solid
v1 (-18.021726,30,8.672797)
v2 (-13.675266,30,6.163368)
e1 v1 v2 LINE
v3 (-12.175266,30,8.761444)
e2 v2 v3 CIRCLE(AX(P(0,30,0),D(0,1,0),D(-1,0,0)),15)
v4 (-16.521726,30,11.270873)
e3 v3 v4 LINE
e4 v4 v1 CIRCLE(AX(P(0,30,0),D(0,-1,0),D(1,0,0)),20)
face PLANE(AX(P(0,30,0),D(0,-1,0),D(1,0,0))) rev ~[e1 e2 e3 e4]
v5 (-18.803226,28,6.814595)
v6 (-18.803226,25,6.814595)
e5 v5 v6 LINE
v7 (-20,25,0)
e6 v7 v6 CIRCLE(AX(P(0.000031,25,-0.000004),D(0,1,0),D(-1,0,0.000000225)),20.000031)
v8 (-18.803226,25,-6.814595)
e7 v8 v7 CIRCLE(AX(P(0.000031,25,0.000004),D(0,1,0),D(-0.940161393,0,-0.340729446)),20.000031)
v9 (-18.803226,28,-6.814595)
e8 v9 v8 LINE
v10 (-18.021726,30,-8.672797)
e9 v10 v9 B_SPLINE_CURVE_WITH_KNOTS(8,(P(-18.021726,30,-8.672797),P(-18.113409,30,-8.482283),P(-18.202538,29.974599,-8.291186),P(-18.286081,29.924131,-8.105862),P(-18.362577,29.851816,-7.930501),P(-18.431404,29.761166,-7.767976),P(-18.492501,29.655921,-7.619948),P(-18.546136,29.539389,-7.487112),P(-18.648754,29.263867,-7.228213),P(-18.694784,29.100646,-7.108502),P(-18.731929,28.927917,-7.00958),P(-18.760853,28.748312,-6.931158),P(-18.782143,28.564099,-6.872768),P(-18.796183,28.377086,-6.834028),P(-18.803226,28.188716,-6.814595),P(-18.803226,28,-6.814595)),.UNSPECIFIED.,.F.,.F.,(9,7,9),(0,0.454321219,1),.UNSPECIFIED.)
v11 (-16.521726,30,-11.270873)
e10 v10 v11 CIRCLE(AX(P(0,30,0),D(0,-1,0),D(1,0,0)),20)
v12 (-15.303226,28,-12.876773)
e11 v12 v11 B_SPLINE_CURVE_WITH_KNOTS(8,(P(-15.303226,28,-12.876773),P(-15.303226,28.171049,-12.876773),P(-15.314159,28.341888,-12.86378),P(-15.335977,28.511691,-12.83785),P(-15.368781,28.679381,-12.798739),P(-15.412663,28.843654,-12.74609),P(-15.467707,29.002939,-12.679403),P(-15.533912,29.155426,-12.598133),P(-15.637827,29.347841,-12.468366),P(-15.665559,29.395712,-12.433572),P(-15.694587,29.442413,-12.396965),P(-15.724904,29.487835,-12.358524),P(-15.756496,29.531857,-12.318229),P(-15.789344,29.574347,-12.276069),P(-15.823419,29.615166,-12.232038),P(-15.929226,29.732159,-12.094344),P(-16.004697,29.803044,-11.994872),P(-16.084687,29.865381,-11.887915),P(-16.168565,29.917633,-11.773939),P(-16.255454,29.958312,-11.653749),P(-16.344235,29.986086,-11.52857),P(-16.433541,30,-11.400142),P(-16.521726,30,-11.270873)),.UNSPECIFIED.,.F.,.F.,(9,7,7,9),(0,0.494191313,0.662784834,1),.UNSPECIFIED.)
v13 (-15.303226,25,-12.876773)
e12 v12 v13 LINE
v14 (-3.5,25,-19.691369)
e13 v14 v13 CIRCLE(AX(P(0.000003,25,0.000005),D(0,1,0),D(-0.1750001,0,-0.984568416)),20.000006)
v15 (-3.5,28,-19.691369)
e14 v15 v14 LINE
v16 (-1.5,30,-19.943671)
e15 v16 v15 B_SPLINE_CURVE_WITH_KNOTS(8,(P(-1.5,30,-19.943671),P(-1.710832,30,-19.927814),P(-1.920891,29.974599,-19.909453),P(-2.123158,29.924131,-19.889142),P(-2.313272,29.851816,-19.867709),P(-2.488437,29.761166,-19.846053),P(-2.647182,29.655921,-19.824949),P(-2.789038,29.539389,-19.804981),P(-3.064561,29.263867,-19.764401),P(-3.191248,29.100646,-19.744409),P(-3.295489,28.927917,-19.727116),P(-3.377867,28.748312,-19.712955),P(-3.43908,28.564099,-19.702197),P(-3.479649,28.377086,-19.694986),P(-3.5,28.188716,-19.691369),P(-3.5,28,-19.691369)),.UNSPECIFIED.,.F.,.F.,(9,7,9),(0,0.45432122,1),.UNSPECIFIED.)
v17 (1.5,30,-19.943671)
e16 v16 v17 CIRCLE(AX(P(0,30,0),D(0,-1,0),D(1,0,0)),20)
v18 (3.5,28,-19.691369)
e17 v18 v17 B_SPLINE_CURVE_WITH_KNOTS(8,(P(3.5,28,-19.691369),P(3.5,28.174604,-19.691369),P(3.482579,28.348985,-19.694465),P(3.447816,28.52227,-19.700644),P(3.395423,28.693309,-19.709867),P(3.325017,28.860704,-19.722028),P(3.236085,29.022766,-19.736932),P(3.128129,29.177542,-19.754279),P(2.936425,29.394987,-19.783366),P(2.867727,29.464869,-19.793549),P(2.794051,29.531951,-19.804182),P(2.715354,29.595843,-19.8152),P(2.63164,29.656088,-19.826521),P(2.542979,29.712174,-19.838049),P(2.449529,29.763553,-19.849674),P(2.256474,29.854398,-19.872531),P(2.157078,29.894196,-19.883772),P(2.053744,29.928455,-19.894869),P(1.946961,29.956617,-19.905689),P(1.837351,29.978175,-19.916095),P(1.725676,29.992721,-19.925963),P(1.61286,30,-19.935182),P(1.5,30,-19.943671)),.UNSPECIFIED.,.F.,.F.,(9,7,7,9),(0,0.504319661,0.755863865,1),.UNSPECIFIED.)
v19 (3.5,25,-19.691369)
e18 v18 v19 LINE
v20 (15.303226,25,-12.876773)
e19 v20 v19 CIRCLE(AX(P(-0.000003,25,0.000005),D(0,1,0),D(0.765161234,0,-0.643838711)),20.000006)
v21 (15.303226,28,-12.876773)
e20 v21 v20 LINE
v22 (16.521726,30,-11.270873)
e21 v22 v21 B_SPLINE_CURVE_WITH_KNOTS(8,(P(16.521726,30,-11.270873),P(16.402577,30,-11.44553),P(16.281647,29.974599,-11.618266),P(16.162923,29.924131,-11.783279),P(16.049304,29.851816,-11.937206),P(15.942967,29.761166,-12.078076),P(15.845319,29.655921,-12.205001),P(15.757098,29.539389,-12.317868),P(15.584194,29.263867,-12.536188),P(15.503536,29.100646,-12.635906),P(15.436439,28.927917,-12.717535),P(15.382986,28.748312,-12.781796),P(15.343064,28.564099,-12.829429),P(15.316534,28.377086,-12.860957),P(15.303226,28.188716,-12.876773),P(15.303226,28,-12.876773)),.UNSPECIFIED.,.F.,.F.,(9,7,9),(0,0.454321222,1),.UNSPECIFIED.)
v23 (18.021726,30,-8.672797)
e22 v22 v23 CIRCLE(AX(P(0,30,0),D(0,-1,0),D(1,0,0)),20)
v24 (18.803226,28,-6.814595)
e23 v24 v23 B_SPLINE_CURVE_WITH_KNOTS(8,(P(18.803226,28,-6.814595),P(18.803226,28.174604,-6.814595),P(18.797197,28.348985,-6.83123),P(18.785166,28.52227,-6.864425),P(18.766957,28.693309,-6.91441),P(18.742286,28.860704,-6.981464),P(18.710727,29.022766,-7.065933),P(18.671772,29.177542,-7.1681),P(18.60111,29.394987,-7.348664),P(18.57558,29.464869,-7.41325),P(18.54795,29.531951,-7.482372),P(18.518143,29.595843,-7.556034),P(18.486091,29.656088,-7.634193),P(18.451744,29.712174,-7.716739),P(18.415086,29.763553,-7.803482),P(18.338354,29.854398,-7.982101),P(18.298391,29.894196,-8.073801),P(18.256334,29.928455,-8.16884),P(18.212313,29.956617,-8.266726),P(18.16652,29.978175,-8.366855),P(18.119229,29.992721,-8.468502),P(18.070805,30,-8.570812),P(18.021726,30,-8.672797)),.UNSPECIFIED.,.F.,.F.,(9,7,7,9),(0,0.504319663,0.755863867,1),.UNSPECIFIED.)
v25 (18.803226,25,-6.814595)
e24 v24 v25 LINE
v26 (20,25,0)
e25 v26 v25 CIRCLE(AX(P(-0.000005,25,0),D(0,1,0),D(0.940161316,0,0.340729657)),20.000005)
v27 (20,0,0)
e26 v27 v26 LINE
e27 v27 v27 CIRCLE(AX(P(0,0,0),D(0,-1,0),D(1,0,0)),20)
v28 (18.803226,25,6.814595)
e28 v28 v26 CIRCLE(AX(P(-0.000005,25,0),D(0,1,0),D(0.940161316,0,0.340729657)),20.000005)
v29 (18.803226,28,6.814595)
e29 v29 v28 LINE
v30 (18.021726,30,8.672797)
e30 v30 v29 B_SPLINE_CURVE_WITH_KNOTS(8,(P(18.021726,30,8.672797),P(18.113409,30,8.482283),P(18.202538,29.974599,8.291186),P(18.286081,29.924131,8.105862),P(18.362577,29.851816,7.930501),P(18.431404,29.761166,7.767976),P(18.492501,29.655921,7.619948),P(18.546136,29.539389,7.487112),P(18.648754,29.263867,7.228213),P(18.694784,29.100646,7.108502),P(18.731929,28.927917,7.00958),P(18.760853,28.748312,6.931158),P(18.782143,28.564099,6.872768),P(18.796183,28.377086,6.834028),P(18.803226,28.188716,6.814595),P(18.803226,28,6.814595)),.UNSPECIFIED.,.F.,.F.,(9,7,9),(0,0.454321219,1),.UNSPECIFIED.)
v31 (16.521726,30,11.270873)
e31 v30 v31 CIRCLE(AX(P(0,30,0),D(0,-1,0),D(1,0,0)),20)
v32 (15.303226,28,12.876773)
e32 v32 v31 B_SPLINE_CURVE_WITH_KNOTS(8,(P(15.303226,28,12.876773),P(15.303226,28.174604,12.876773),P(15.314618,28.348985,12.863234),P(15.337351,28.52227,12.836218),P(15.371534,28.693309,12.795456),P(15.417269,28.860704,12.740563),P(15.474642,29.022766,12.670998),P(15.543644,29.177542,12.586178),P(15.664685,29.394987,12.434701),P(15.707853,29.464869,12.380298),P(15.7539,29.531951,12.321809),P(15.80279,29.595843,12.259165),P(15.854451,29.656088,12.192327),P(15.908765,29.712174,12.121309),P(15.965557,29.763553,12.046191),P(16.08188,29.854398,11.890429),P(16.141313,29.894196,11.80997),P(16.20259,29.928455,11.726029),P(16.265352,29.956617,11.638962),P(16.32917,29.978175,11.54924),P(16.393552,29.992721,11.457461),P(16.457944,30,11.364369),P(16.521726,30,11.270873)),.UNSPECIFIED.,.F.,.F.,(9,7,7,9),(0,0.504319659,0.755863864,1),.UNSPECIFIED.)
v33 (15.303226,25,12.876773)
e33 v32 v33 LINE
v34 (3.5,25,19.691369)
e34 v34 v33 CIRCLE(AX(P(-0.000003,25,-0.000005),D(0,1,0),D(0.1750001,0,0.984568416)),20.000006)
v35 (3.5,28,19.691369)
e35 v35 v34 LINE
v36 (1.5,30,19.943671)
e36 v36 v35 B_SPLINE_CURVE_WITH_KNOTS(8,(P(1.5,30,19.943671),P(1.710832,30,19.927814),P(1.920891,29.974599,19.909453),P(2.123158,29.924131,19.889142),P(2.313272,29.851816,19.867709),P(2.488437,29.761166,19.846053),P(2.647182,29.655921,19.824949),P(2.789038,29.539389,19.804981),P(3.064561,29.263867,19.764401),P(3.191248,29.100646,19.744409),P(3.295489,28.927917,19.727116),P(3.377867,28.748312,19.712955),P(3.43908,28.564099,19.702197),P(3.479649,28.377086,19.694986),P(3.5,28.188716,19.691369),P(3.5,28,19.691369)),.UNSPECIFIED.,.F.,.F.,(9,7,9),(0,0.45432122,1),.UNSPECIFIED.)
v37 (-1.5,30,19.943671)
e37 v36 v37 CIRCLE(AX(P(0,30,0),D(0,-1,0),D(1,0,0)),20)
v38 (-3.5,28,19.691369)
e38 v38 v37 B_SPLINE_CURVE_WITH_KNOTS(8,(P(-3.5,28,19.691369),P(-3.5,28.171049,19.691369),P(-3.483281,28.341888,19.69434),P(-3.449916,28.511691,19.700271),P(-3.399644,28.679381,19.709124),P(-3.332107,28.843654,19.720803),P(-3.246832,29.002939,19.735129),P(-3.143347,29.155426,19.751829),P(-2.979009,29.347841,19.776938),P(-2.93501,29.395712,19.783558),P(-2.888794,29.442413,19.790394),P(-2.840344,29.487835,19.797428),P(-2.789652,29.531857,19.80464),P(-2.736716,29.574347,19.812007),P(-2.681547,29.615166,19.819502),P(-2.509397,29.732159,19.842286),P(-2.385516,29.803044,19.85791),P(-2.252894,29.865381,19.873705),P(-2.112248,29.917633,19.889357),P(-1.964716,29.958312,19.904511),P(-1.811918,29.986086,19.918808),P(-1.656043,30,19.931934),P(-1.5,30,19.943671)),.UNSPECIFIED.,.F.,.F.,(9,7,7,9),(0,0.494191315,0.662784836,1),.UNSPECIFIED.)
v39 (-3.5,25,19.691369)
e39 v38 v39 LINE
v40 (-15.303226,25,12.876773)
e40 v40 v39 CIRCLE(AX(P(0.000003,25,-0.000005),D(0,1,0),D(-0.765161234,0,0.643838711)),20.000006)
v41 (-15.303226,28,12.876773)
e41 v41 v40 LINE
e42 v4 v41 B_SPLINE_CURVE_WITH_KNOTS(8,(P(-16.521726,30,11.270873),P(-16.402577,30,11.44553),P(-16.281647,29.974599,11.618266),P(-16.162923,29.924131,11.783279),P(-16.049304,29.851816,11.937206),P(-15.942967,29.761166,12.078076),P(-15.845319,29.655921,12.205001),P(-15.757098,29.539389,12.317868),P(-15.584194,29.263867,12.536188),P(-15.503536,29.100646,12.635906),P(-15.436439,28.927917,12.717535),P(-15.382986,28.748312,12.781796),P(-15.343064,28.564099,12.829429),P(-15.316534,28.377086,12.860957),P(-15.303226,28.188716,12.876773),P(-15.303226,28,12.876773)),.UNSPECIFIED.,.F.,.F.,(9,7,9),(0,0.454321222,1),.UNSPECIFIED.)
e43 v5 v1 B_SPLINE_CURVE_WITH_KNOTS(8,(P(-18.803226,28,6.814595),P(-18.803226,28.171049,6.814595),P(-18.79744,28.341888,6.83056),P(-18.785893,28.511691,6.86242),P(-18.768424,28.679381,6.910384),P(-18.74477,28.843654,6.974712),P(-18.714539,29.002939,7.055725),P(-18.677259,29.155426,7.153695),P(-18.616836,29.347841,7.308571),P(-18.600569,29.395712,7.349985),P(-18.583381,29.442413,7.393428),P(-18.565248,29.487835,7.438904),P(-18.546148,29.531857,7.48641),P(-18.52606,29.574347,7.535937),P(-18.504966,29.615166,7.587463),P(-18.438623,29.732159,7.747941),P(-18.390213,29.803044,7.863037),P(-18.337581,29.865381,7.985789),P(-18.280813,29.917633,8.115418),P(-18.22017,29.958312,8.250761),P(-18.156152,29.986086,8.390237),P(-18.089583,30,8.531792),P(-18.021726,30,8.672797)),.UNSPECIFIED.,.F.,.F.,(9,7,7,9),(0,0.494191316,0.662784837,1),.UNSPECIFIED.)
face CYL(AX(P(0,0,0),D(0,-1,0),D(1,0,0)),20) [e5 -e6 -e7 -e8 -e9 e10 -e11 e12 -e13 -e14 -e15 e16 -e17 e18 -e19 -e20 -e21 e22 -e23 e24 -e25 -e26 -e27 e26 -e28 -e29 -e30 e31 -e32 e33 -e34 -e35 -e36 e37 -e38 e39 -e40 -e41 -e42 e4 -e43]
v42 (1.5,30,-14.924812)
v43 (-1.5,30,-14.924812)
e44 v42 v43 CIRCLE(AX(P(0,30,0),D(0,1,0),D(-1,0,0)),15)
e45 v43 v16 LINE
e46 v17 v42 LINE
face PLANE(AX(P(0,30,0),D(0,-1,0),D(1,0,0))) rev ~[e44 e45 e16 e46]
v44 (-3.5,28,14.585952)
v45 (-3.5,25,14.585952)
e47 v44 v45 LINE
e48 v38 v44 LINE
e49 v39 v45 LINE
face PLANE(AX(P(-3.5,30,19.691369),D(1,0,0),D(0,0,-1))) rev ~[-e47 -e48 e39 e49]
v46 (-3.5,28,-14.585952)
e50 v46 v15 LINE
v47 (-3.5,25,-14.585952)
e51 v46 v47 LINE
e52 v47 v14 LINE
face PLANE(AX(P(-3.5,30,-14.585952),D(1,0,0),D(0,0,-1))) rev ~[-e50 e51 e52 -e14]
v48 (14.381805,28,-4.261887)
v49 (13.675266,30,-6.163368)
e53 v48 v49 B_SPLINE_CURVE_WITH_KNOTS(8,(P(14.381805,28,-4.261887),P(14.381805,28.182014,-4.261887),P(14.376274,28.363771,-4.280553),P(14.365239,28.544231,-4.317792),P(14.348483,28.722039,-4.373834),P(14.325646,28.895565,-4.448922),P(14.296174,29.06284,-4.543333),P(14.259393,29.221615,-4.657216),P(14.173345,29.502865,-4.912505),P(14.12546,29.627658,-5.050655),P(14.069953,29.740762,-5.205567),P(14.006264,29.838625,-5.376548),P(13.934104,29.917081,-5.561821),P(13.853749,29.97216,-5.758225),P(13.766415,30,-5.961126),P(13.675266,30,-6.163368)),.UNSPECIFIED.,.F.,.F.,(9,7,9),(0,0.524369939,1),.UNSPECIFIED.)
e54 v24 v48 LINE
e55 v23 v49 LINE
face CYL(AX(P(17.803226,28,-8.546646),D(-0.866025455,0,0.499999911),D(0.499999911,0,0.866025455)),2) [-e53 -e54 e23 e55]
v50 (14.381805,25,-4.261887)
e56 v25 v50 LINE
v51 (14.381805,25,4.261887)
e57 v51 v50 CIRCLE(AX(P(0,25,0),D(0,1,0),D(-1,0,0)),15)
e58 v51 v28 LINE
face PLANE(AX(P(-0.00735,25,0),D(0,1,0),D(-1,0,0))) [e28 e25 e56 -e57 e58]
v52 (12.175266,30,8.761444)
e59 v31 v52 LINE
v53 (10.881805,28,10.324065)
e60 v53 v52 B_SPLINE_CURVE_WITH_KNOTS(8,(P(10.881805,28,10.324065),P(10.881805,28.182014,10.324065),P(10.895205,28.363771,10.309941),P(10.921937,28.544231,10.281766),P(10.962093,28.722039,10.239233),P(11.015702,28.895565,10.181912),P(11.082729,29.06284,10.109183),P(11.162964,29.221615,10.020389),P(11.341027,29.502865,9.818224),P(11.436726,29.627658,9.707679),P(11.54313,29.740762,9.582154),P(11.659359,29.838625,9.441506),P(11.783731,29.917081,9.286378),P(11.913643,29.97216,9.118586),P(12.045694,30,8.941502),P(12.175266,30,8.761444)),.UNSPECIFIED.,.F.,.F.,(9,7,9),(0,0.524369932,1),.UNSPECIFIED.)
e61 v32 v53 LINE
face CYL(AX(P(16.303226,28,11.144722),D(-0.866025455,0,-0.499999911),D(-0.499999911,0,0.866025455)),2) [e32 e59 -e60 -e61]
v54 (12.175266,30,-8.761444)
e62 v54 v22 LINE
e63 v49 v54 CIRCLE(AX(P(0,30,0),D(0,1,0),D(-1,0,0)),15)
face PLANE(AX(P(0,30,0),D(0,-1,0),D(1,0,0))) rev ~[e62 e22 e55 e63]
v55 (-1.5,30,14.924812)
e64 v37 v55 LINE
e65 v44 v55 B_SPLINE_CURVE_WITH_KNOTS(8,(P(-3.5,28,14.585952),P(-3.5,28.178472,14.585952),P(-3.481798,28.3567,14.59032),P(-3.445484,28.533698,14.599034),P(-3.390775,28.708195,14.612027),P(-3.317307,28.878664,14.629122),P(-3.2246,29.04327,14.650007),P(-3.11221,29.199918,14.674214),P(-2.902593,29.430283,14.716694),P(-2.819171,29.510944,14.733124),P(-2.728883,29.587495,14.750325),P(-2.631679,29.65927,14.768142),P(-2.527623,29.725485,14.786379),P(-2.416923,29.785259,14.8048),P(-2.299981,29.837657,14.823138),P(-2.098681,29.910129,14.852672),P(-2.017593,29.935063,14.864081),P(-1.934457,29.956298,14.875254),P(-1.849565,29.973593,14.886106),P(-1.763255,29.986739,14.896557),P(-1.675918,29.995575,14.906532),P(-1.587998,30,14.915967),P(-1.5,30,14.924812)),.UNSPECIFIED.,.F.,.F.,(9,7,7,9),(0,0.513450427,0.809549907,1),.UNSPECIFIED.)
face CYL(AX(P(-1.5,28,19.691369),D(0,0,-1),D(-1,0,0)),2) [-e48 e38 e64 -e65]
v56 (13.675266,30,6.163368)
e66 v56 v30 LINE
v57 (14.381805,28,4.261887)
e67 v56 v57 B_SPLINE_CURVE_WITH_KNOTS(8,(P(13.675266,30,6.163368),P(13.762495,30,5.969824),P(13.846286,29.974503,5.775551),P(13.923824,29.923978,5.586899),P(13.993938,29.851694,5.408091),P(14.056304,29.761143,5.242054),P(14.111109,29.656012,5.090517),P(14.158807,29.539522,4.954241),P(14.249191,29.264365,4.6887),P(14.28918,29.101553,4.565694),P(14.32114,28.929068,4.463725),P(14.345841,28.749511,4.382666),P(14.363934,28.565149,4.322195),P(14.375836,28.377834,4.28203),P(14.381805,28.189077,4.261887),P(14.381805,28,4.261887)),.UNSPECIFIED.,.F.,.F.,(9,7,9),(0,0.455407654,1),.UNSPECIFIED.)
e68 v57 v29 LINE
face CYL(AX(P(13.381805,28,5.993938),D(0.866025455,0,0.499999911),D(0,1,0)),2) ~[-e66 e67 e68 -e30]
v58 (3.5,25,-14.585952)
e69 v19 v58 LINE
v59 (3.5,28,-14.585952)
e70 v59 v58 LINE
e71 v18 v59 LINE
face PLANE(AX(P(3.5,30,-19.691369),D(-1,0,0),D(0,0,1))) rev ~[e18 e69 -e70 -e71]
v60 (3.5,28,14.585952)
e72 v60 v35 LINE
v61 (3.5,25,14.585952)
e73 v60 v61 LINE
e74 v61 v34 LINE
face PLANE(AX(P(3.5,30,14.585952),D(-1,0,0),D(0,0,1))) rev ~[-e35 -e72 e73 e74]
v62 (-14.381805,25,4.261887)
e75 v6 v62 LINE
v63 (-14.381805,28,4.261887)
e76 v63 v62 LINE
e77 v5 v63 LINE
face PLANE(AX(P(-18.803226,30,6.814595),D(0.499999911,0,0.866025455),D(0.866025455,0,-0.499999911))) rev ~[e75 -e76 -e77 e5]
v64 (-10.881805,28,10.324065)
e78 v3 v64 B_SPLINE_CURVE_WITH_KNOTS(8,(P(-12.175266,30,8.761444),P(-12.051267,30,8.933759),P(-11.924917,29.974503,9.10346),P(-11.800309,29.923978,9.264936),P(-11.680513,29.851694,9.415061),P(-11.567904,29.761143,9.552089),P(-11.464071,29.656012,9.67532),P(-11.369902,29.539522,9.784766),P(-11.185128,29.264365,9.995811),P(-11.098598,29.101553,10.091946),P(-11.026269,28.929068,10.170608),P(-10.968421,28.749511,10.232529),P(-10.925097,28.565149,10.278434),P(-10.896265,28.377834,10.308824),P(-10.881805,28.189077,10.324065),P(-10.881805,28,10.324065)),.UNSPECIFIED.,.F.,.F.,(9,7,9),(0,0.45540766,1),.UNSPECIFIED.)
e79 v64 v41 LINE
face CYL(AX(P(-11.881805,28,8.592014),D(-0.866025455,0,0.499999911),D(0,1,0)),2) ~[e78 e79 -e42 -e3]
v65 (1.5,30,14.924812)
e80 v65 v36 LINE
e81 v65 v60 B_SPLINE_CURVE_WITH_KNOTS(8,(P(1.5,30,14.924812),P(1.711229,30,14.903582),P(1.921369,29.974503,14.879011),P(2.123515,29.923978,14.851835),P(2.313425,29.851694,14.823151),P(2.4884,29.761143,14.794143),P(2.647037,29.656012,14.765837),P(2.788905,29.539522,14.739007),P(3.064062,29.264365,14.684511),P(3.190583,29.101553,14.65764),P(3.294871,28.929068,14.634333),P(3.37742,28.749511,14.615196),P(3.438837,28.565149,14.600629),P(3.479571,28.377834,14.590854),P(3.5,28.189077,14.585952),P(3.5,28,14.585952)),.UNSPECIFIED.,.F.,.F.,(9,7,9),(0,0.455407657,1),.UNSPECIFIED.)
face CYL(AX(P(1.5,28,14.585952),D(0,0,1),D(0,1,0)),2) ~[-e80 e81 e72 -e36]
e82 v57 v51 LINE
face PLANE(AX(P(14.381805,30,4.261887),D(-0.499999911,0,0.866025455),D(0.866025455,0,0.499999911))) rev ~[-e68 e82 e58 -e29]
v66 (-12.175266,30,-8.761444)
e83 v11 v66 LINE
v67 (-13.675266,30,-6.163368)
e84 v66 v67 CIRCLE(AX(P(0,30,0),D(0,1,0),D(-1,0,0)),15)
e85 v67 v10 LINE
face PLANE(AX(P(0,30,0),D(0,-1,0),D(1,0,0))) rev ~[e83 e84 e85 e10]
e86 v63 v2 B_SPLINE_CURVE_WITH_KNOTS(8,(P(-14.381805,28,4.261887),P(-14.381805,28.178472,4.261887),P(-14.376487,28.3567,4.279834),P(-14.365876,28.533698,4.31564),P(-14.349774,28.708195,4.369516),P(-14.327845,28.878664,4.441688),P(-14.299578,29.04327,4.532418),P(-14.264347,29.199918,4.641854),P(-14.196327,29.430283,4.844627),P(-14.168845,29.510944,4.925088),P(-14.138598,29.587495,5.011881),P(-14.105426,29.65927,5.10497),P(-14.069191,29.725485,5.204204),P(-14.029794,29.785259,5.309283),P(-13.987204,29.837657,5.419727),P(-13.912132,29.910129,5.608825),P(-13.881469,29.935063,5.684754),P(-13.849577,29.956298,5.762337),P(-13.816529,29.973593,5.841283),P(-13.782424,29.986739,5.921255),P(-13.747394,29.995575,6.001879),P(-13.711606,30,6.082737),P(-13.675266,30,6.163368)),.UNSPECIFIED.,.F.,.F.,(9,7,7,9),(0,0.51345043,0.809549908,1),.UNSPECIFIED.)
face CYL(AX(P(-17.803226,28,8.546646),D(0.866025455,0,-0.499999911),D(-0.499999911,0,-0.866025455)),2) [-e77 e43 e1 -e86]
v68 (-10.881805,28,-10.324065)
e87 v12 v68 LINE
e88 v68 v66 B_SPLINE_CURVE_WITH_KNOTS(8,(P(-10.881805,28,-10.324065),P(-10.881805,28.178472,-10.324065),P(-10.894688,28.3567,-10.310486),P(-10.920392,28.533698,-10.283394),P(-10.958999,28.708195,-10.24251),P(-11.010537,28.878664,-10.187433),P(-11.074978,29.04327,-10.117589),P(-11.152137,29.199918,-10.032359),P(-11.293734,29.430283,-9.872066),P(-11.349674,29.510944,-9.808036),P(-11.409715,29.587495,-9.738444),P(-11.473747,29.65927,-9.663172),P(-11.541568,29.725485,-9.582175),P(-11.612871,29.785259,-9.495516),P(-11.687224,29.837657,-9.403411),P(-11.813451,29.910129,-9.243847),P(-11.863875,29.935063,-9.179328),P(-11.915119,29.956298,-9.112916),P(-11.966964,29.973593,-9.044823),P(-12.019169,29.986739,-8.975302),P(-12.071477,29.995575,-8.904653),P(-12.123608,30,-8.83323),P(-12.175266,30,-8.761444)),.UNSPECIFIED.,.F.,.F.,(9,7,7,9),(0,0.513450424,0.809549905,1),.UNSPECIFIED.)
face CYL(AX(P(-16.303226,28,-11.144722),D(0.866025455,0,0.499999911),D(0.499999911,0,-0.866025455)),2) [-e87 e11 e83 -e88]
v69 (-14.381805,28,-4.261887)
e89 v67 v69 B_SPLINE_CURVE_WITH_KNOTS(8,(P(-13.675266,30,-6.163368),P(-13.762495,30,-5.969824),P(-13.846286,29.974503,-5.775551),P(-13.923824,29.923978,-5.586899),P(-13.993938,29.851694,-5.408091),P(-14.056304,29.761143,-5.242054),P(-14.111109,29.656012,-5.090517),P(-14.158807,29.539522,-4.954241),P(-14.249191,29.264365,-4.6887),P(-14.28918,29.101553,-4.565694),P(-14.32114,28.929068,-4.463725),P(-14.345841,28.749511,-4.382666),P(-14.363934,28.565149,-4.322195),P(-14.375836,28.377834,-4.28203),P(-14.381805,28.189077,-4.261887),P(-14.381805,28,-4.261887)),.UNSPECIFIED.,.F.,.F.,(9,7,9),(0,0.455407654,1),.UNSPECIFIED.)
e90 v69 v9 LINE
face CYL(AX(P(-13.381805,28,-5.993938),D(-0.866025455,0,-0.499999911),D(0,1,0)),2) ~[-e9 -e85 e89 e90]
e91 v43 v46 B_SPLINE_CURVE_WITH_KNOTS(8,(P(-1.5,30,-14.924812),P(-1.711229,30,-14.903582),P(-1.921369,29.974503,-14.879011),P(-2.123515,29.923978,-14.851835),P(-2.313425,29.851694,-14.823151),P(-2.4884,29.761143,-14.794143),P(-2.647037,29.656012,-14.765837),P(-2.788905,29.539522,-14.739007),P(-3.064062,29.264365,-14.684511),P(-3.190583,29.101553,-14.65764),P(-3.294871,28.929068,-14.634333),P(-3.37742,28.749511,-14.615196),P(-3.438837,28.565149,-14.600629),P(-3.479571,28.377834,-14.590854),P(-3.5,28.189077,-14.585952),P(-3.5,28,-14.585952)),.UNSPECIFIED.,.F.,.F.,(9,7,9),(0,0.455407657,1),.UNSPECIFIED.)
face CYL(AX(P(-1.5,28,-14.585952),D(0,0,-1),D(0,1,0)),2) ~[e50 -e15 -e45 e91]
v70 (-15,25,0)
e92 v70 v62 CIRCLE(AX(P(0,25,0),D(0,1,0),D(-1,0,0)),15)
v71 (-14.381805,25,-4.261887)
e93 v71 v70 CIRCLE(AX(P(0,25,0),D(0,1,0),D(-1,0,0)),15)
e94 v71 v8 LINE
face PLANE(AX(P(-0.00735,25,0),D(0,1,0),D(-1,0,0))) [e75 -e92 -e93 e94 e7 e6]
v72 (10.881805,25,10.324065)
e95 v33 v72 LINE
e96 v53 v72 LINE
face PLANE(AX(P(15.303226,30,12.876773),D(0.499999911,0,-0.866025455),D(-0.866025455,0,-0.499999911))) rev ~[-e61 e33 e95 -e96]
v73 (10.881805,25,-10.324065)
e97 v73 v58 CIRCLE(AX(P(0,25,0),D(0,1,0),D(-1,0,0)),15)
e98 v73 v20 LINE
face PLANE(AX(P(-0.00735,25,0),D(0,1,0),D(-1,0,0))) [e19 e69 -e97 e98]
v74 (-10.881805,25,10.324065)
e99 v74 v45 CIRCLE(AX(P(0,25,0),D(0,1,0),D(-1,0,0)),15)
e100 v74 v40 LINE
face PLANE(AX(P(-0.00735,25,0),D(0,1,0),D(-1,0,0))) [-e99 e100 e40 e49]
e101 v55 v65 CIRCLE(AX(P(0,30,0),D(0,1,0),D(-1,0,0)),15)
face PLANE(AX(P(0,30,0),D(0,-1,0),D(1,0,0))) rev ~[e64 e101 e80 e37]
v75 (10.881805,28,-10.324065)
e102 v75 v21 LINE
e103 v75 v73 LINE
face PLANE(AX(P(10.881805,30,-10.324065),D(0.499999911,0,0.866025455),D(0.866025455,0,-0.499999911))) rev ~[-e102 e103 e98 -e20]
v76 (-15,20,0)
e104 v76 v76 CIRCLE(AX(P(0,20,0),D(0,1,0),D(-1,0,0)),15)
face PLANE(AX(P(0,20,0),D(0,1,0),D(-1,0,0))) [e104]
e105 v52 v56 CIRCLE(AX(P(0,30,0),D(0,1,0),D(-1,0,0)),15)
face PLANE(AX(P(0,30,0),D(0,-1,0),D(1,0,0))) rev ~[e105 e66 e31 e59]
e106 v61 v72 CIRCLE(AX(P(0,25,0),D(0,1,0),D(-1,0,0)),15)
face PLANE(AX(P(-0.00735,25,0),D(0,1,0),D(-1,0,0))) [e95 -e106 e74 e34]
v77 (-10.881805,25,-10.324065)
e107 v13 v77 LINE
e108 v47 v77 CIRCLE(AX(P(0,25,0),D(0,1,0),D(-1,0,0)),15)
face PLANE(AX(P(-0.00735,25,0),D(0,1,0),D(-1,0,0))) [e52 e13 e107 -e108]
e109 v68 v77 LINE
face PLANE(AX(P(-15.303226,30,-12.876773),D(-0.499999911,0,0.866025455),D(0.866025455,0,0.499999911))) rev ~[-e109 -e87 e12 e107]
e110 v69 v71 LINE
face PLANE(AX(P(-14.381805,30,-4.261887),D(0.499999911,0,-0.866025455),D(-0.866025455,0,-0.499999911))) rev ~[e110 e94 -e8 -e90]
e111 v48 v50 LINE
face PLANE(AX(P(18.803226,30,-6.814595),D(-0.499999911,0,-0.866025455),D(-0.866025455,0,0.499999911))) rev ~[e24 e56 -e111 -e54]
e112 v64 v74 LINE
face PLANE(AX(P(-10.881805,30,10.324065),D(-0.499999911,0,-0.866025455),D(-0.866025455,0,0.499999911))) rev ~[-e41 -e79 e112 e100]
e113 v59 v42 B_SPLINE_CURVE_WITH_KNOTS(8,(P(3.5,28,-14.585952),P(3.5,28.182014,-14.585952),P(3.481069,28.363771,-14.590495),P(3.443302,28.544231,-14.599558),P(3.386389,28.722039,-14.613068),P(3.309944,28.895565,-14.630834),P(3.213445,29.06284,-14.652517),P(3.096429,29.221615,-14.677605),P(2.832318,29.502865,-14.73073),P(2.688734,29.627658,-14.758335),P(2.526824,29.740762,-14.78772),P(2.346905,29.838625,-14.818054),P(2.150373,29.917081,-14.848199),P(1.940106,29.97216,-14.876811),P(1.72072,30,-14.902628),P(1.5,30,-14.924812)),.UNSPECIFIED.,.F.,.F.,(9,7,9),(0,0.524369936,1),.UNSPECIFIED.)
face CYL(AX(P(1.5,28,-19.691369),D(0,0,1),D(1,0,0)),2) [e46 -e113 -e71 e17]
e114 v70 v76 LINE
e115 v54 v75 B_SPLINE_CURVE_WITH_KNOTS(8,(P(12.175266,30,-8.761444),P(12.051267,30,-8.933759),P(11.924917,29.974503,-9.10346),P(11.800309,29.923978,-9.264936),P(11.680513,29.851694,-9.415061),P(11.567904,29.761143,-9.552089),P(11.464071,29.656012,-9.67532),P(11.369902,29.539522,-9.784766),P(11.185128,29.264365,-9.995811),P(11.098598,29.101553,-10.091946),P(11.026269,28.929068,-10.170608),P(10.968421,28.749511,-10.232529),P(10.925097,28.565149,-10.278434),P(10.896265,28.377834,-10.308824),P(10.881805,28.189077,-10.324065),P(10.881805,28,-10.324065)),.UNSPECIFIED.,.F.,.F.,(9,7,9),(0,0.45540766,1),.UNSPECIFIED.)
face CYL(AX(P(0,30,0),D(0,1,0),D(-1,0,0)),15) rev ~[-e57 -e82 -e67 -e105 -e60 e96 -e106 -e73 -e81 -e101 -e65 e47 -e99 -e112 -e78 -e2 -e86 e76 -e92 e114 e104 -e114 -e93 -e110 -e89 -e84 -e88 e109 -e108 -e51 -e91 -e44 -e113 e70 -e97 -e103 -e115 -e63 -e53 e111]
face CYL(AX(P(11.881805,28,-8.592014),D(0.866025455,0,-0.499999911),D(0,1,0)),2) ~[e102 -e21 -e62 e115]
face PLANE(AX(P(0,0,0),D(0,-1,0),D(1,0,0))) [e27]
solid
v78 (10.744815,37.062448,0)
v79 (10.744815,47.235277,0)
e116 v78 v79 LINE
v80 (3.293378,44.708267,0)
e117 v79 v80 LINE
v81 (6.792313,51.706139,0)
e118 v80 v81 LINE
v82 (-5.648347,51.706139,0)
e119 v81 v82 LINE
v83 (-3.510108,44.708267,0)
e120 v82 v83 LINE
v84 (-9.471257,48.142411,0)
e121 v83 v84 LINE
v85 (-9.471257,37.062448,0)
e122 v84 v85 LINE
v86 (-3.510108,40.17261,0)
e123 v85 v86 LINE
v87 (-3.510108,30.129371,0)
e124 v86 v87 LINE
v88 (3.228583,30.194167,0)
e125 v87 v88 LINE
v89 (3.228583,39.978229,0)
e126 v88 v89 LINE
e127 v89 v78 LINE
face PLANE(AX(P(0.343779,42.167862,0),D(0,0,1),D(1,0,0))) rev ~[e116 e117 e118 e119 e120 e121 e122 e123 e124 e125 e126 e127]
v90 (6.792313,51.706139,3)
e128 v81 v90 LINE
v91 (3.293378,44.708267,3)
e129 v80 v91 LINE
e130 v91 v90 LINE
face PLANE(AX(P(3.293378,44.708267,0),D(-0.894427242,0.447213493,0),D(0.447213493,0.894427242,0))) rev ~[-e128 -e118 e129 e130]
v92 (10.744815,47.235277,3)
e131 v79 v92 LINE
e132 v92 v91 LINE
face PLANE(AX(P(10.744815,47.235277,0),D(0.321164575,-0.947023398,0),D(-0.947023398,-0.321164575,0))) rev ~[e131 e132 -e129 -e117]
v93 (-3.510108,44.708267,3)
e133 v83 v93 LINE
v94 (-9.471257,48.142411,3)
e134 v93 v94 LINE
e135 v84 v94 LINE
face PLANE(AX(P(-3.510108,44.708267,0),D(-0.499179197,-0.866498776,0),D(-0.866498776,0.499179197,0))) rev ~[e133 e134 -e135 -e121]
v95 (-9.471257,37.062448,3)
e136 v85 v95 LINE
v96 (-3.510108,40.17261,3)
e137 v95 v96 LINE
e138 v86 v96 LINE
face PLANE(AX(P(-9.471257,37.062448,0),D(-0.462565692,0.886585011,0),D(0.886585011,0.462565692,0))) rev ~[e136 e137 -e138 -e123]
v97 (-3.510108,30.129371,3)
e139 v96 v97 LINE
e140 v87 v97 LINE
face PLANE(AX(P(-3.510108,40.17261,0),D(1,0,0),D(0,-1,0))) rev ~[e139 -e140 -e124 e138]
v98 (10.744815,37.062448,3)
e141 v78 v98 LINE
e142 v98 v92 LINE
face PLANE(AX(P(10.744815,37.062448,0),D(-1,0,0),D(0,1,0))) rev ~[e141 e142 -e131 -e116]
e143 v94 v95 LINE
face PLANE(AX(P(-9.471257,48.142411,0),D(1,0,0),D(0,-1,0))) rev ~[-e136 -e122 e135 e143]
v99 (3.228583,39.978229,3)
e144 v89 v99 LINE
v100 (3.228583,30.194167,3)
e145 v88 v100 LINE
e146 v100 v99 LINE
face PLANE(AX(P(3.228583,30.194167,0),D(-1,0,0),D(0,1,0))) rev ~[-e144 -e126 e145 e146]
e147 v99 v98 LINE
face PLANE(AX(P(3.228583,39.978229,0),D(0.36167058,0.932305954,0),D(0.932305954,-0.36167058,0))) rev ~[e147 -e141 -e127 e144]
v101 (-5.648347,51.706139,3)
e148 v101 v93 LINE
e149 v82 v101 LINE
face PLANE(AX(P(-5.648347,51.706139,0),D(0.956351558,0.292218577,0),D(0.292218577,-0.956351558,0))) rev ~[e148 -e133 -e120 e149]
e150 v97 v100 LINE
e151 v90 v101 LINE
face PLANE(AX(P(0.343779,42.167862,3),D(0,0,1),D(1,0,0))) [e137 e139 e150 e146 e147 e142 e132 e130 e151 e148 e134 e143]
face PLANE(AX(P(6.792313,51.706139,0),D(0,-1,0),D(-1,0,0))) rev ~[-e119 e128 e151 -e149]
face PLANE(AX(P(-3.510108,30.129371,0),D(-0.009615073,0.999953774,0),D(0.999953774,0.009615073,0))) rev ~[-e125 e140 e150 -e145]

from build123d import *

# Parameters (mm, degrees)
F0_R     = 20
F1_DEPTH = 30
F2_R     = 15
F3_DEPTH = 10
F5_DEPTH = 5
F6_R     = 2
F8_DEPTH = 3


with BuildPart() as f1:
    # F0 (on Front) → F1 (new body)
    with BuildSketch(Plane.XZ):
        Circle(F0_R)
    extrude(amount=-F1_DEPTH)

    # F2 (on face) → F3 (cut)
    with BuildSketch(Plane(origin=(0, 30, 0), x_dir=(-1, 0, 0), z_dir=(0, 1, 0))):
        Circle(F2_R)
    extrude(amount=-F3_DEPTH, mode=Mode.SUBTRACT)

    # F4 (on face) → F5 (cut)
    with BuildSketch(Plane(origin=(0, 30, 0), x_dir=(-1, 0, 0), z_dir=(0, 1, 0))):
        with BuildLine():
            Line((-3.5, -19.691369), (-3.5, -14.585952))
            Line((-3.5, -14.585952), (3.5, -14.585952))
            Line((3.5, -14.585952), (3.5, -19.691369))
            ThreePointArc((3.5, -19.691369), (10, -17.320508), (15.303226, -12.876773))
            Line((15.303226, -12.876773), (10.881805, -10.324065))
            Line((10.881805, -10.324065), (14.381805, -4.261887))
            Line((14.381805, -4.261887), (18.803226, -6.814595))
            ThreePointArc((18.803226, -6.814595), (19.698534, -3.459443), (20, 0))
            ThreePointArc((20, 0), (19.698534, 3.459443), (18.803226, 6.814595))
            Line((18.803226, 6.814595), (14.381805, 4.261887))
            Line((14.381805, 4.261887), (10.881805, 10.324065))
            Line((10.881805, 10.324065), (15.303226, 12.876773))
            ThreePointArc((15.303226, 12.876773), (10, 17.320508), (3.5, 19.691369))
            Line((3.5, 19.691369), (3.5, 14.585952))
            Line((3.5, 14.585952), (-3.5, 14.585952))
            Line((-3.5, 14.585952), (-3.5, 19.691369))
            ThreePointArc((-3.5, 19.691369), (-10, 17.320508), (-15.303226, 12.876773))
            Line((-15.303226, 12.876773), (-10.881805, 10.324065))
            Line((-10.881805, 10.324065), (-14.381805, 4.261887))
            Line((-14.381805, 4.261887), (-18.803226, 6.814595))
            ThreePointArc((-18.803226, 6.814595), (-20, 0), (-18.803226, -6.814595))
            Line((-18.803226, -6.814595), (-14.381805, -4.261887))
            Line((-14.381805, -4.261887), (-10.881805, -10.324065))
            Line((-10.881805, -10.324065), (-15.303226, -12.876773))
            ThreePointArc((-15.303226, -12.876773), (-10, -17.320508), (-3.5, -19.691369))
        make_face()
    extrude(amount=-F5_DEPTH, mode=Mode.SUBTRACT)

    # F6
    f6_edges = [f1.edges().sort_by_distance(p)[0] for p in [
        (-3.5, 30, -17.13866),
        (3.5, 30, -17.13866),
        (13.092515, 30, -11.600419),
        (16.592515, 30, -5.538241),
        (16.592515, 30, 5.538241),
        (3.5, 30, 17.13866),
        (-3.5, 30, 17.13866),
        (-13.092515, 30, 11.600419),
        (-16.592515, 30, 5.538241),
        (-16.592515, 30, -5.538241),
        (-13.092515, 30, -11.600419),
        (13.092515, 30, 11.600419),
    ]]
    fillet(f6_edges, radius=F6_R)


with BuildPart() as f8:
    # F7 (on Top) → F8 (new body)
    with BuildSketch(Plane.XY):
        Polygon((-3.510108, 40.17261), (-3.510108, 30.129371), (3.228583, 30.194167), (3.228583, 39.978229), (10.744815, 37.062448), (10.744815, 47.235277), (3.293378, 44.708267), (6.792313, 51.706139), (-5.648347, 51.706139), (-3.510108, 44.708267), (-9.471257, 48.142411), (-9.471257, 37.062448), align=None)
    extrude(amount=F8_DEPTH)


solid = Compound([f1.part, f8.part])
